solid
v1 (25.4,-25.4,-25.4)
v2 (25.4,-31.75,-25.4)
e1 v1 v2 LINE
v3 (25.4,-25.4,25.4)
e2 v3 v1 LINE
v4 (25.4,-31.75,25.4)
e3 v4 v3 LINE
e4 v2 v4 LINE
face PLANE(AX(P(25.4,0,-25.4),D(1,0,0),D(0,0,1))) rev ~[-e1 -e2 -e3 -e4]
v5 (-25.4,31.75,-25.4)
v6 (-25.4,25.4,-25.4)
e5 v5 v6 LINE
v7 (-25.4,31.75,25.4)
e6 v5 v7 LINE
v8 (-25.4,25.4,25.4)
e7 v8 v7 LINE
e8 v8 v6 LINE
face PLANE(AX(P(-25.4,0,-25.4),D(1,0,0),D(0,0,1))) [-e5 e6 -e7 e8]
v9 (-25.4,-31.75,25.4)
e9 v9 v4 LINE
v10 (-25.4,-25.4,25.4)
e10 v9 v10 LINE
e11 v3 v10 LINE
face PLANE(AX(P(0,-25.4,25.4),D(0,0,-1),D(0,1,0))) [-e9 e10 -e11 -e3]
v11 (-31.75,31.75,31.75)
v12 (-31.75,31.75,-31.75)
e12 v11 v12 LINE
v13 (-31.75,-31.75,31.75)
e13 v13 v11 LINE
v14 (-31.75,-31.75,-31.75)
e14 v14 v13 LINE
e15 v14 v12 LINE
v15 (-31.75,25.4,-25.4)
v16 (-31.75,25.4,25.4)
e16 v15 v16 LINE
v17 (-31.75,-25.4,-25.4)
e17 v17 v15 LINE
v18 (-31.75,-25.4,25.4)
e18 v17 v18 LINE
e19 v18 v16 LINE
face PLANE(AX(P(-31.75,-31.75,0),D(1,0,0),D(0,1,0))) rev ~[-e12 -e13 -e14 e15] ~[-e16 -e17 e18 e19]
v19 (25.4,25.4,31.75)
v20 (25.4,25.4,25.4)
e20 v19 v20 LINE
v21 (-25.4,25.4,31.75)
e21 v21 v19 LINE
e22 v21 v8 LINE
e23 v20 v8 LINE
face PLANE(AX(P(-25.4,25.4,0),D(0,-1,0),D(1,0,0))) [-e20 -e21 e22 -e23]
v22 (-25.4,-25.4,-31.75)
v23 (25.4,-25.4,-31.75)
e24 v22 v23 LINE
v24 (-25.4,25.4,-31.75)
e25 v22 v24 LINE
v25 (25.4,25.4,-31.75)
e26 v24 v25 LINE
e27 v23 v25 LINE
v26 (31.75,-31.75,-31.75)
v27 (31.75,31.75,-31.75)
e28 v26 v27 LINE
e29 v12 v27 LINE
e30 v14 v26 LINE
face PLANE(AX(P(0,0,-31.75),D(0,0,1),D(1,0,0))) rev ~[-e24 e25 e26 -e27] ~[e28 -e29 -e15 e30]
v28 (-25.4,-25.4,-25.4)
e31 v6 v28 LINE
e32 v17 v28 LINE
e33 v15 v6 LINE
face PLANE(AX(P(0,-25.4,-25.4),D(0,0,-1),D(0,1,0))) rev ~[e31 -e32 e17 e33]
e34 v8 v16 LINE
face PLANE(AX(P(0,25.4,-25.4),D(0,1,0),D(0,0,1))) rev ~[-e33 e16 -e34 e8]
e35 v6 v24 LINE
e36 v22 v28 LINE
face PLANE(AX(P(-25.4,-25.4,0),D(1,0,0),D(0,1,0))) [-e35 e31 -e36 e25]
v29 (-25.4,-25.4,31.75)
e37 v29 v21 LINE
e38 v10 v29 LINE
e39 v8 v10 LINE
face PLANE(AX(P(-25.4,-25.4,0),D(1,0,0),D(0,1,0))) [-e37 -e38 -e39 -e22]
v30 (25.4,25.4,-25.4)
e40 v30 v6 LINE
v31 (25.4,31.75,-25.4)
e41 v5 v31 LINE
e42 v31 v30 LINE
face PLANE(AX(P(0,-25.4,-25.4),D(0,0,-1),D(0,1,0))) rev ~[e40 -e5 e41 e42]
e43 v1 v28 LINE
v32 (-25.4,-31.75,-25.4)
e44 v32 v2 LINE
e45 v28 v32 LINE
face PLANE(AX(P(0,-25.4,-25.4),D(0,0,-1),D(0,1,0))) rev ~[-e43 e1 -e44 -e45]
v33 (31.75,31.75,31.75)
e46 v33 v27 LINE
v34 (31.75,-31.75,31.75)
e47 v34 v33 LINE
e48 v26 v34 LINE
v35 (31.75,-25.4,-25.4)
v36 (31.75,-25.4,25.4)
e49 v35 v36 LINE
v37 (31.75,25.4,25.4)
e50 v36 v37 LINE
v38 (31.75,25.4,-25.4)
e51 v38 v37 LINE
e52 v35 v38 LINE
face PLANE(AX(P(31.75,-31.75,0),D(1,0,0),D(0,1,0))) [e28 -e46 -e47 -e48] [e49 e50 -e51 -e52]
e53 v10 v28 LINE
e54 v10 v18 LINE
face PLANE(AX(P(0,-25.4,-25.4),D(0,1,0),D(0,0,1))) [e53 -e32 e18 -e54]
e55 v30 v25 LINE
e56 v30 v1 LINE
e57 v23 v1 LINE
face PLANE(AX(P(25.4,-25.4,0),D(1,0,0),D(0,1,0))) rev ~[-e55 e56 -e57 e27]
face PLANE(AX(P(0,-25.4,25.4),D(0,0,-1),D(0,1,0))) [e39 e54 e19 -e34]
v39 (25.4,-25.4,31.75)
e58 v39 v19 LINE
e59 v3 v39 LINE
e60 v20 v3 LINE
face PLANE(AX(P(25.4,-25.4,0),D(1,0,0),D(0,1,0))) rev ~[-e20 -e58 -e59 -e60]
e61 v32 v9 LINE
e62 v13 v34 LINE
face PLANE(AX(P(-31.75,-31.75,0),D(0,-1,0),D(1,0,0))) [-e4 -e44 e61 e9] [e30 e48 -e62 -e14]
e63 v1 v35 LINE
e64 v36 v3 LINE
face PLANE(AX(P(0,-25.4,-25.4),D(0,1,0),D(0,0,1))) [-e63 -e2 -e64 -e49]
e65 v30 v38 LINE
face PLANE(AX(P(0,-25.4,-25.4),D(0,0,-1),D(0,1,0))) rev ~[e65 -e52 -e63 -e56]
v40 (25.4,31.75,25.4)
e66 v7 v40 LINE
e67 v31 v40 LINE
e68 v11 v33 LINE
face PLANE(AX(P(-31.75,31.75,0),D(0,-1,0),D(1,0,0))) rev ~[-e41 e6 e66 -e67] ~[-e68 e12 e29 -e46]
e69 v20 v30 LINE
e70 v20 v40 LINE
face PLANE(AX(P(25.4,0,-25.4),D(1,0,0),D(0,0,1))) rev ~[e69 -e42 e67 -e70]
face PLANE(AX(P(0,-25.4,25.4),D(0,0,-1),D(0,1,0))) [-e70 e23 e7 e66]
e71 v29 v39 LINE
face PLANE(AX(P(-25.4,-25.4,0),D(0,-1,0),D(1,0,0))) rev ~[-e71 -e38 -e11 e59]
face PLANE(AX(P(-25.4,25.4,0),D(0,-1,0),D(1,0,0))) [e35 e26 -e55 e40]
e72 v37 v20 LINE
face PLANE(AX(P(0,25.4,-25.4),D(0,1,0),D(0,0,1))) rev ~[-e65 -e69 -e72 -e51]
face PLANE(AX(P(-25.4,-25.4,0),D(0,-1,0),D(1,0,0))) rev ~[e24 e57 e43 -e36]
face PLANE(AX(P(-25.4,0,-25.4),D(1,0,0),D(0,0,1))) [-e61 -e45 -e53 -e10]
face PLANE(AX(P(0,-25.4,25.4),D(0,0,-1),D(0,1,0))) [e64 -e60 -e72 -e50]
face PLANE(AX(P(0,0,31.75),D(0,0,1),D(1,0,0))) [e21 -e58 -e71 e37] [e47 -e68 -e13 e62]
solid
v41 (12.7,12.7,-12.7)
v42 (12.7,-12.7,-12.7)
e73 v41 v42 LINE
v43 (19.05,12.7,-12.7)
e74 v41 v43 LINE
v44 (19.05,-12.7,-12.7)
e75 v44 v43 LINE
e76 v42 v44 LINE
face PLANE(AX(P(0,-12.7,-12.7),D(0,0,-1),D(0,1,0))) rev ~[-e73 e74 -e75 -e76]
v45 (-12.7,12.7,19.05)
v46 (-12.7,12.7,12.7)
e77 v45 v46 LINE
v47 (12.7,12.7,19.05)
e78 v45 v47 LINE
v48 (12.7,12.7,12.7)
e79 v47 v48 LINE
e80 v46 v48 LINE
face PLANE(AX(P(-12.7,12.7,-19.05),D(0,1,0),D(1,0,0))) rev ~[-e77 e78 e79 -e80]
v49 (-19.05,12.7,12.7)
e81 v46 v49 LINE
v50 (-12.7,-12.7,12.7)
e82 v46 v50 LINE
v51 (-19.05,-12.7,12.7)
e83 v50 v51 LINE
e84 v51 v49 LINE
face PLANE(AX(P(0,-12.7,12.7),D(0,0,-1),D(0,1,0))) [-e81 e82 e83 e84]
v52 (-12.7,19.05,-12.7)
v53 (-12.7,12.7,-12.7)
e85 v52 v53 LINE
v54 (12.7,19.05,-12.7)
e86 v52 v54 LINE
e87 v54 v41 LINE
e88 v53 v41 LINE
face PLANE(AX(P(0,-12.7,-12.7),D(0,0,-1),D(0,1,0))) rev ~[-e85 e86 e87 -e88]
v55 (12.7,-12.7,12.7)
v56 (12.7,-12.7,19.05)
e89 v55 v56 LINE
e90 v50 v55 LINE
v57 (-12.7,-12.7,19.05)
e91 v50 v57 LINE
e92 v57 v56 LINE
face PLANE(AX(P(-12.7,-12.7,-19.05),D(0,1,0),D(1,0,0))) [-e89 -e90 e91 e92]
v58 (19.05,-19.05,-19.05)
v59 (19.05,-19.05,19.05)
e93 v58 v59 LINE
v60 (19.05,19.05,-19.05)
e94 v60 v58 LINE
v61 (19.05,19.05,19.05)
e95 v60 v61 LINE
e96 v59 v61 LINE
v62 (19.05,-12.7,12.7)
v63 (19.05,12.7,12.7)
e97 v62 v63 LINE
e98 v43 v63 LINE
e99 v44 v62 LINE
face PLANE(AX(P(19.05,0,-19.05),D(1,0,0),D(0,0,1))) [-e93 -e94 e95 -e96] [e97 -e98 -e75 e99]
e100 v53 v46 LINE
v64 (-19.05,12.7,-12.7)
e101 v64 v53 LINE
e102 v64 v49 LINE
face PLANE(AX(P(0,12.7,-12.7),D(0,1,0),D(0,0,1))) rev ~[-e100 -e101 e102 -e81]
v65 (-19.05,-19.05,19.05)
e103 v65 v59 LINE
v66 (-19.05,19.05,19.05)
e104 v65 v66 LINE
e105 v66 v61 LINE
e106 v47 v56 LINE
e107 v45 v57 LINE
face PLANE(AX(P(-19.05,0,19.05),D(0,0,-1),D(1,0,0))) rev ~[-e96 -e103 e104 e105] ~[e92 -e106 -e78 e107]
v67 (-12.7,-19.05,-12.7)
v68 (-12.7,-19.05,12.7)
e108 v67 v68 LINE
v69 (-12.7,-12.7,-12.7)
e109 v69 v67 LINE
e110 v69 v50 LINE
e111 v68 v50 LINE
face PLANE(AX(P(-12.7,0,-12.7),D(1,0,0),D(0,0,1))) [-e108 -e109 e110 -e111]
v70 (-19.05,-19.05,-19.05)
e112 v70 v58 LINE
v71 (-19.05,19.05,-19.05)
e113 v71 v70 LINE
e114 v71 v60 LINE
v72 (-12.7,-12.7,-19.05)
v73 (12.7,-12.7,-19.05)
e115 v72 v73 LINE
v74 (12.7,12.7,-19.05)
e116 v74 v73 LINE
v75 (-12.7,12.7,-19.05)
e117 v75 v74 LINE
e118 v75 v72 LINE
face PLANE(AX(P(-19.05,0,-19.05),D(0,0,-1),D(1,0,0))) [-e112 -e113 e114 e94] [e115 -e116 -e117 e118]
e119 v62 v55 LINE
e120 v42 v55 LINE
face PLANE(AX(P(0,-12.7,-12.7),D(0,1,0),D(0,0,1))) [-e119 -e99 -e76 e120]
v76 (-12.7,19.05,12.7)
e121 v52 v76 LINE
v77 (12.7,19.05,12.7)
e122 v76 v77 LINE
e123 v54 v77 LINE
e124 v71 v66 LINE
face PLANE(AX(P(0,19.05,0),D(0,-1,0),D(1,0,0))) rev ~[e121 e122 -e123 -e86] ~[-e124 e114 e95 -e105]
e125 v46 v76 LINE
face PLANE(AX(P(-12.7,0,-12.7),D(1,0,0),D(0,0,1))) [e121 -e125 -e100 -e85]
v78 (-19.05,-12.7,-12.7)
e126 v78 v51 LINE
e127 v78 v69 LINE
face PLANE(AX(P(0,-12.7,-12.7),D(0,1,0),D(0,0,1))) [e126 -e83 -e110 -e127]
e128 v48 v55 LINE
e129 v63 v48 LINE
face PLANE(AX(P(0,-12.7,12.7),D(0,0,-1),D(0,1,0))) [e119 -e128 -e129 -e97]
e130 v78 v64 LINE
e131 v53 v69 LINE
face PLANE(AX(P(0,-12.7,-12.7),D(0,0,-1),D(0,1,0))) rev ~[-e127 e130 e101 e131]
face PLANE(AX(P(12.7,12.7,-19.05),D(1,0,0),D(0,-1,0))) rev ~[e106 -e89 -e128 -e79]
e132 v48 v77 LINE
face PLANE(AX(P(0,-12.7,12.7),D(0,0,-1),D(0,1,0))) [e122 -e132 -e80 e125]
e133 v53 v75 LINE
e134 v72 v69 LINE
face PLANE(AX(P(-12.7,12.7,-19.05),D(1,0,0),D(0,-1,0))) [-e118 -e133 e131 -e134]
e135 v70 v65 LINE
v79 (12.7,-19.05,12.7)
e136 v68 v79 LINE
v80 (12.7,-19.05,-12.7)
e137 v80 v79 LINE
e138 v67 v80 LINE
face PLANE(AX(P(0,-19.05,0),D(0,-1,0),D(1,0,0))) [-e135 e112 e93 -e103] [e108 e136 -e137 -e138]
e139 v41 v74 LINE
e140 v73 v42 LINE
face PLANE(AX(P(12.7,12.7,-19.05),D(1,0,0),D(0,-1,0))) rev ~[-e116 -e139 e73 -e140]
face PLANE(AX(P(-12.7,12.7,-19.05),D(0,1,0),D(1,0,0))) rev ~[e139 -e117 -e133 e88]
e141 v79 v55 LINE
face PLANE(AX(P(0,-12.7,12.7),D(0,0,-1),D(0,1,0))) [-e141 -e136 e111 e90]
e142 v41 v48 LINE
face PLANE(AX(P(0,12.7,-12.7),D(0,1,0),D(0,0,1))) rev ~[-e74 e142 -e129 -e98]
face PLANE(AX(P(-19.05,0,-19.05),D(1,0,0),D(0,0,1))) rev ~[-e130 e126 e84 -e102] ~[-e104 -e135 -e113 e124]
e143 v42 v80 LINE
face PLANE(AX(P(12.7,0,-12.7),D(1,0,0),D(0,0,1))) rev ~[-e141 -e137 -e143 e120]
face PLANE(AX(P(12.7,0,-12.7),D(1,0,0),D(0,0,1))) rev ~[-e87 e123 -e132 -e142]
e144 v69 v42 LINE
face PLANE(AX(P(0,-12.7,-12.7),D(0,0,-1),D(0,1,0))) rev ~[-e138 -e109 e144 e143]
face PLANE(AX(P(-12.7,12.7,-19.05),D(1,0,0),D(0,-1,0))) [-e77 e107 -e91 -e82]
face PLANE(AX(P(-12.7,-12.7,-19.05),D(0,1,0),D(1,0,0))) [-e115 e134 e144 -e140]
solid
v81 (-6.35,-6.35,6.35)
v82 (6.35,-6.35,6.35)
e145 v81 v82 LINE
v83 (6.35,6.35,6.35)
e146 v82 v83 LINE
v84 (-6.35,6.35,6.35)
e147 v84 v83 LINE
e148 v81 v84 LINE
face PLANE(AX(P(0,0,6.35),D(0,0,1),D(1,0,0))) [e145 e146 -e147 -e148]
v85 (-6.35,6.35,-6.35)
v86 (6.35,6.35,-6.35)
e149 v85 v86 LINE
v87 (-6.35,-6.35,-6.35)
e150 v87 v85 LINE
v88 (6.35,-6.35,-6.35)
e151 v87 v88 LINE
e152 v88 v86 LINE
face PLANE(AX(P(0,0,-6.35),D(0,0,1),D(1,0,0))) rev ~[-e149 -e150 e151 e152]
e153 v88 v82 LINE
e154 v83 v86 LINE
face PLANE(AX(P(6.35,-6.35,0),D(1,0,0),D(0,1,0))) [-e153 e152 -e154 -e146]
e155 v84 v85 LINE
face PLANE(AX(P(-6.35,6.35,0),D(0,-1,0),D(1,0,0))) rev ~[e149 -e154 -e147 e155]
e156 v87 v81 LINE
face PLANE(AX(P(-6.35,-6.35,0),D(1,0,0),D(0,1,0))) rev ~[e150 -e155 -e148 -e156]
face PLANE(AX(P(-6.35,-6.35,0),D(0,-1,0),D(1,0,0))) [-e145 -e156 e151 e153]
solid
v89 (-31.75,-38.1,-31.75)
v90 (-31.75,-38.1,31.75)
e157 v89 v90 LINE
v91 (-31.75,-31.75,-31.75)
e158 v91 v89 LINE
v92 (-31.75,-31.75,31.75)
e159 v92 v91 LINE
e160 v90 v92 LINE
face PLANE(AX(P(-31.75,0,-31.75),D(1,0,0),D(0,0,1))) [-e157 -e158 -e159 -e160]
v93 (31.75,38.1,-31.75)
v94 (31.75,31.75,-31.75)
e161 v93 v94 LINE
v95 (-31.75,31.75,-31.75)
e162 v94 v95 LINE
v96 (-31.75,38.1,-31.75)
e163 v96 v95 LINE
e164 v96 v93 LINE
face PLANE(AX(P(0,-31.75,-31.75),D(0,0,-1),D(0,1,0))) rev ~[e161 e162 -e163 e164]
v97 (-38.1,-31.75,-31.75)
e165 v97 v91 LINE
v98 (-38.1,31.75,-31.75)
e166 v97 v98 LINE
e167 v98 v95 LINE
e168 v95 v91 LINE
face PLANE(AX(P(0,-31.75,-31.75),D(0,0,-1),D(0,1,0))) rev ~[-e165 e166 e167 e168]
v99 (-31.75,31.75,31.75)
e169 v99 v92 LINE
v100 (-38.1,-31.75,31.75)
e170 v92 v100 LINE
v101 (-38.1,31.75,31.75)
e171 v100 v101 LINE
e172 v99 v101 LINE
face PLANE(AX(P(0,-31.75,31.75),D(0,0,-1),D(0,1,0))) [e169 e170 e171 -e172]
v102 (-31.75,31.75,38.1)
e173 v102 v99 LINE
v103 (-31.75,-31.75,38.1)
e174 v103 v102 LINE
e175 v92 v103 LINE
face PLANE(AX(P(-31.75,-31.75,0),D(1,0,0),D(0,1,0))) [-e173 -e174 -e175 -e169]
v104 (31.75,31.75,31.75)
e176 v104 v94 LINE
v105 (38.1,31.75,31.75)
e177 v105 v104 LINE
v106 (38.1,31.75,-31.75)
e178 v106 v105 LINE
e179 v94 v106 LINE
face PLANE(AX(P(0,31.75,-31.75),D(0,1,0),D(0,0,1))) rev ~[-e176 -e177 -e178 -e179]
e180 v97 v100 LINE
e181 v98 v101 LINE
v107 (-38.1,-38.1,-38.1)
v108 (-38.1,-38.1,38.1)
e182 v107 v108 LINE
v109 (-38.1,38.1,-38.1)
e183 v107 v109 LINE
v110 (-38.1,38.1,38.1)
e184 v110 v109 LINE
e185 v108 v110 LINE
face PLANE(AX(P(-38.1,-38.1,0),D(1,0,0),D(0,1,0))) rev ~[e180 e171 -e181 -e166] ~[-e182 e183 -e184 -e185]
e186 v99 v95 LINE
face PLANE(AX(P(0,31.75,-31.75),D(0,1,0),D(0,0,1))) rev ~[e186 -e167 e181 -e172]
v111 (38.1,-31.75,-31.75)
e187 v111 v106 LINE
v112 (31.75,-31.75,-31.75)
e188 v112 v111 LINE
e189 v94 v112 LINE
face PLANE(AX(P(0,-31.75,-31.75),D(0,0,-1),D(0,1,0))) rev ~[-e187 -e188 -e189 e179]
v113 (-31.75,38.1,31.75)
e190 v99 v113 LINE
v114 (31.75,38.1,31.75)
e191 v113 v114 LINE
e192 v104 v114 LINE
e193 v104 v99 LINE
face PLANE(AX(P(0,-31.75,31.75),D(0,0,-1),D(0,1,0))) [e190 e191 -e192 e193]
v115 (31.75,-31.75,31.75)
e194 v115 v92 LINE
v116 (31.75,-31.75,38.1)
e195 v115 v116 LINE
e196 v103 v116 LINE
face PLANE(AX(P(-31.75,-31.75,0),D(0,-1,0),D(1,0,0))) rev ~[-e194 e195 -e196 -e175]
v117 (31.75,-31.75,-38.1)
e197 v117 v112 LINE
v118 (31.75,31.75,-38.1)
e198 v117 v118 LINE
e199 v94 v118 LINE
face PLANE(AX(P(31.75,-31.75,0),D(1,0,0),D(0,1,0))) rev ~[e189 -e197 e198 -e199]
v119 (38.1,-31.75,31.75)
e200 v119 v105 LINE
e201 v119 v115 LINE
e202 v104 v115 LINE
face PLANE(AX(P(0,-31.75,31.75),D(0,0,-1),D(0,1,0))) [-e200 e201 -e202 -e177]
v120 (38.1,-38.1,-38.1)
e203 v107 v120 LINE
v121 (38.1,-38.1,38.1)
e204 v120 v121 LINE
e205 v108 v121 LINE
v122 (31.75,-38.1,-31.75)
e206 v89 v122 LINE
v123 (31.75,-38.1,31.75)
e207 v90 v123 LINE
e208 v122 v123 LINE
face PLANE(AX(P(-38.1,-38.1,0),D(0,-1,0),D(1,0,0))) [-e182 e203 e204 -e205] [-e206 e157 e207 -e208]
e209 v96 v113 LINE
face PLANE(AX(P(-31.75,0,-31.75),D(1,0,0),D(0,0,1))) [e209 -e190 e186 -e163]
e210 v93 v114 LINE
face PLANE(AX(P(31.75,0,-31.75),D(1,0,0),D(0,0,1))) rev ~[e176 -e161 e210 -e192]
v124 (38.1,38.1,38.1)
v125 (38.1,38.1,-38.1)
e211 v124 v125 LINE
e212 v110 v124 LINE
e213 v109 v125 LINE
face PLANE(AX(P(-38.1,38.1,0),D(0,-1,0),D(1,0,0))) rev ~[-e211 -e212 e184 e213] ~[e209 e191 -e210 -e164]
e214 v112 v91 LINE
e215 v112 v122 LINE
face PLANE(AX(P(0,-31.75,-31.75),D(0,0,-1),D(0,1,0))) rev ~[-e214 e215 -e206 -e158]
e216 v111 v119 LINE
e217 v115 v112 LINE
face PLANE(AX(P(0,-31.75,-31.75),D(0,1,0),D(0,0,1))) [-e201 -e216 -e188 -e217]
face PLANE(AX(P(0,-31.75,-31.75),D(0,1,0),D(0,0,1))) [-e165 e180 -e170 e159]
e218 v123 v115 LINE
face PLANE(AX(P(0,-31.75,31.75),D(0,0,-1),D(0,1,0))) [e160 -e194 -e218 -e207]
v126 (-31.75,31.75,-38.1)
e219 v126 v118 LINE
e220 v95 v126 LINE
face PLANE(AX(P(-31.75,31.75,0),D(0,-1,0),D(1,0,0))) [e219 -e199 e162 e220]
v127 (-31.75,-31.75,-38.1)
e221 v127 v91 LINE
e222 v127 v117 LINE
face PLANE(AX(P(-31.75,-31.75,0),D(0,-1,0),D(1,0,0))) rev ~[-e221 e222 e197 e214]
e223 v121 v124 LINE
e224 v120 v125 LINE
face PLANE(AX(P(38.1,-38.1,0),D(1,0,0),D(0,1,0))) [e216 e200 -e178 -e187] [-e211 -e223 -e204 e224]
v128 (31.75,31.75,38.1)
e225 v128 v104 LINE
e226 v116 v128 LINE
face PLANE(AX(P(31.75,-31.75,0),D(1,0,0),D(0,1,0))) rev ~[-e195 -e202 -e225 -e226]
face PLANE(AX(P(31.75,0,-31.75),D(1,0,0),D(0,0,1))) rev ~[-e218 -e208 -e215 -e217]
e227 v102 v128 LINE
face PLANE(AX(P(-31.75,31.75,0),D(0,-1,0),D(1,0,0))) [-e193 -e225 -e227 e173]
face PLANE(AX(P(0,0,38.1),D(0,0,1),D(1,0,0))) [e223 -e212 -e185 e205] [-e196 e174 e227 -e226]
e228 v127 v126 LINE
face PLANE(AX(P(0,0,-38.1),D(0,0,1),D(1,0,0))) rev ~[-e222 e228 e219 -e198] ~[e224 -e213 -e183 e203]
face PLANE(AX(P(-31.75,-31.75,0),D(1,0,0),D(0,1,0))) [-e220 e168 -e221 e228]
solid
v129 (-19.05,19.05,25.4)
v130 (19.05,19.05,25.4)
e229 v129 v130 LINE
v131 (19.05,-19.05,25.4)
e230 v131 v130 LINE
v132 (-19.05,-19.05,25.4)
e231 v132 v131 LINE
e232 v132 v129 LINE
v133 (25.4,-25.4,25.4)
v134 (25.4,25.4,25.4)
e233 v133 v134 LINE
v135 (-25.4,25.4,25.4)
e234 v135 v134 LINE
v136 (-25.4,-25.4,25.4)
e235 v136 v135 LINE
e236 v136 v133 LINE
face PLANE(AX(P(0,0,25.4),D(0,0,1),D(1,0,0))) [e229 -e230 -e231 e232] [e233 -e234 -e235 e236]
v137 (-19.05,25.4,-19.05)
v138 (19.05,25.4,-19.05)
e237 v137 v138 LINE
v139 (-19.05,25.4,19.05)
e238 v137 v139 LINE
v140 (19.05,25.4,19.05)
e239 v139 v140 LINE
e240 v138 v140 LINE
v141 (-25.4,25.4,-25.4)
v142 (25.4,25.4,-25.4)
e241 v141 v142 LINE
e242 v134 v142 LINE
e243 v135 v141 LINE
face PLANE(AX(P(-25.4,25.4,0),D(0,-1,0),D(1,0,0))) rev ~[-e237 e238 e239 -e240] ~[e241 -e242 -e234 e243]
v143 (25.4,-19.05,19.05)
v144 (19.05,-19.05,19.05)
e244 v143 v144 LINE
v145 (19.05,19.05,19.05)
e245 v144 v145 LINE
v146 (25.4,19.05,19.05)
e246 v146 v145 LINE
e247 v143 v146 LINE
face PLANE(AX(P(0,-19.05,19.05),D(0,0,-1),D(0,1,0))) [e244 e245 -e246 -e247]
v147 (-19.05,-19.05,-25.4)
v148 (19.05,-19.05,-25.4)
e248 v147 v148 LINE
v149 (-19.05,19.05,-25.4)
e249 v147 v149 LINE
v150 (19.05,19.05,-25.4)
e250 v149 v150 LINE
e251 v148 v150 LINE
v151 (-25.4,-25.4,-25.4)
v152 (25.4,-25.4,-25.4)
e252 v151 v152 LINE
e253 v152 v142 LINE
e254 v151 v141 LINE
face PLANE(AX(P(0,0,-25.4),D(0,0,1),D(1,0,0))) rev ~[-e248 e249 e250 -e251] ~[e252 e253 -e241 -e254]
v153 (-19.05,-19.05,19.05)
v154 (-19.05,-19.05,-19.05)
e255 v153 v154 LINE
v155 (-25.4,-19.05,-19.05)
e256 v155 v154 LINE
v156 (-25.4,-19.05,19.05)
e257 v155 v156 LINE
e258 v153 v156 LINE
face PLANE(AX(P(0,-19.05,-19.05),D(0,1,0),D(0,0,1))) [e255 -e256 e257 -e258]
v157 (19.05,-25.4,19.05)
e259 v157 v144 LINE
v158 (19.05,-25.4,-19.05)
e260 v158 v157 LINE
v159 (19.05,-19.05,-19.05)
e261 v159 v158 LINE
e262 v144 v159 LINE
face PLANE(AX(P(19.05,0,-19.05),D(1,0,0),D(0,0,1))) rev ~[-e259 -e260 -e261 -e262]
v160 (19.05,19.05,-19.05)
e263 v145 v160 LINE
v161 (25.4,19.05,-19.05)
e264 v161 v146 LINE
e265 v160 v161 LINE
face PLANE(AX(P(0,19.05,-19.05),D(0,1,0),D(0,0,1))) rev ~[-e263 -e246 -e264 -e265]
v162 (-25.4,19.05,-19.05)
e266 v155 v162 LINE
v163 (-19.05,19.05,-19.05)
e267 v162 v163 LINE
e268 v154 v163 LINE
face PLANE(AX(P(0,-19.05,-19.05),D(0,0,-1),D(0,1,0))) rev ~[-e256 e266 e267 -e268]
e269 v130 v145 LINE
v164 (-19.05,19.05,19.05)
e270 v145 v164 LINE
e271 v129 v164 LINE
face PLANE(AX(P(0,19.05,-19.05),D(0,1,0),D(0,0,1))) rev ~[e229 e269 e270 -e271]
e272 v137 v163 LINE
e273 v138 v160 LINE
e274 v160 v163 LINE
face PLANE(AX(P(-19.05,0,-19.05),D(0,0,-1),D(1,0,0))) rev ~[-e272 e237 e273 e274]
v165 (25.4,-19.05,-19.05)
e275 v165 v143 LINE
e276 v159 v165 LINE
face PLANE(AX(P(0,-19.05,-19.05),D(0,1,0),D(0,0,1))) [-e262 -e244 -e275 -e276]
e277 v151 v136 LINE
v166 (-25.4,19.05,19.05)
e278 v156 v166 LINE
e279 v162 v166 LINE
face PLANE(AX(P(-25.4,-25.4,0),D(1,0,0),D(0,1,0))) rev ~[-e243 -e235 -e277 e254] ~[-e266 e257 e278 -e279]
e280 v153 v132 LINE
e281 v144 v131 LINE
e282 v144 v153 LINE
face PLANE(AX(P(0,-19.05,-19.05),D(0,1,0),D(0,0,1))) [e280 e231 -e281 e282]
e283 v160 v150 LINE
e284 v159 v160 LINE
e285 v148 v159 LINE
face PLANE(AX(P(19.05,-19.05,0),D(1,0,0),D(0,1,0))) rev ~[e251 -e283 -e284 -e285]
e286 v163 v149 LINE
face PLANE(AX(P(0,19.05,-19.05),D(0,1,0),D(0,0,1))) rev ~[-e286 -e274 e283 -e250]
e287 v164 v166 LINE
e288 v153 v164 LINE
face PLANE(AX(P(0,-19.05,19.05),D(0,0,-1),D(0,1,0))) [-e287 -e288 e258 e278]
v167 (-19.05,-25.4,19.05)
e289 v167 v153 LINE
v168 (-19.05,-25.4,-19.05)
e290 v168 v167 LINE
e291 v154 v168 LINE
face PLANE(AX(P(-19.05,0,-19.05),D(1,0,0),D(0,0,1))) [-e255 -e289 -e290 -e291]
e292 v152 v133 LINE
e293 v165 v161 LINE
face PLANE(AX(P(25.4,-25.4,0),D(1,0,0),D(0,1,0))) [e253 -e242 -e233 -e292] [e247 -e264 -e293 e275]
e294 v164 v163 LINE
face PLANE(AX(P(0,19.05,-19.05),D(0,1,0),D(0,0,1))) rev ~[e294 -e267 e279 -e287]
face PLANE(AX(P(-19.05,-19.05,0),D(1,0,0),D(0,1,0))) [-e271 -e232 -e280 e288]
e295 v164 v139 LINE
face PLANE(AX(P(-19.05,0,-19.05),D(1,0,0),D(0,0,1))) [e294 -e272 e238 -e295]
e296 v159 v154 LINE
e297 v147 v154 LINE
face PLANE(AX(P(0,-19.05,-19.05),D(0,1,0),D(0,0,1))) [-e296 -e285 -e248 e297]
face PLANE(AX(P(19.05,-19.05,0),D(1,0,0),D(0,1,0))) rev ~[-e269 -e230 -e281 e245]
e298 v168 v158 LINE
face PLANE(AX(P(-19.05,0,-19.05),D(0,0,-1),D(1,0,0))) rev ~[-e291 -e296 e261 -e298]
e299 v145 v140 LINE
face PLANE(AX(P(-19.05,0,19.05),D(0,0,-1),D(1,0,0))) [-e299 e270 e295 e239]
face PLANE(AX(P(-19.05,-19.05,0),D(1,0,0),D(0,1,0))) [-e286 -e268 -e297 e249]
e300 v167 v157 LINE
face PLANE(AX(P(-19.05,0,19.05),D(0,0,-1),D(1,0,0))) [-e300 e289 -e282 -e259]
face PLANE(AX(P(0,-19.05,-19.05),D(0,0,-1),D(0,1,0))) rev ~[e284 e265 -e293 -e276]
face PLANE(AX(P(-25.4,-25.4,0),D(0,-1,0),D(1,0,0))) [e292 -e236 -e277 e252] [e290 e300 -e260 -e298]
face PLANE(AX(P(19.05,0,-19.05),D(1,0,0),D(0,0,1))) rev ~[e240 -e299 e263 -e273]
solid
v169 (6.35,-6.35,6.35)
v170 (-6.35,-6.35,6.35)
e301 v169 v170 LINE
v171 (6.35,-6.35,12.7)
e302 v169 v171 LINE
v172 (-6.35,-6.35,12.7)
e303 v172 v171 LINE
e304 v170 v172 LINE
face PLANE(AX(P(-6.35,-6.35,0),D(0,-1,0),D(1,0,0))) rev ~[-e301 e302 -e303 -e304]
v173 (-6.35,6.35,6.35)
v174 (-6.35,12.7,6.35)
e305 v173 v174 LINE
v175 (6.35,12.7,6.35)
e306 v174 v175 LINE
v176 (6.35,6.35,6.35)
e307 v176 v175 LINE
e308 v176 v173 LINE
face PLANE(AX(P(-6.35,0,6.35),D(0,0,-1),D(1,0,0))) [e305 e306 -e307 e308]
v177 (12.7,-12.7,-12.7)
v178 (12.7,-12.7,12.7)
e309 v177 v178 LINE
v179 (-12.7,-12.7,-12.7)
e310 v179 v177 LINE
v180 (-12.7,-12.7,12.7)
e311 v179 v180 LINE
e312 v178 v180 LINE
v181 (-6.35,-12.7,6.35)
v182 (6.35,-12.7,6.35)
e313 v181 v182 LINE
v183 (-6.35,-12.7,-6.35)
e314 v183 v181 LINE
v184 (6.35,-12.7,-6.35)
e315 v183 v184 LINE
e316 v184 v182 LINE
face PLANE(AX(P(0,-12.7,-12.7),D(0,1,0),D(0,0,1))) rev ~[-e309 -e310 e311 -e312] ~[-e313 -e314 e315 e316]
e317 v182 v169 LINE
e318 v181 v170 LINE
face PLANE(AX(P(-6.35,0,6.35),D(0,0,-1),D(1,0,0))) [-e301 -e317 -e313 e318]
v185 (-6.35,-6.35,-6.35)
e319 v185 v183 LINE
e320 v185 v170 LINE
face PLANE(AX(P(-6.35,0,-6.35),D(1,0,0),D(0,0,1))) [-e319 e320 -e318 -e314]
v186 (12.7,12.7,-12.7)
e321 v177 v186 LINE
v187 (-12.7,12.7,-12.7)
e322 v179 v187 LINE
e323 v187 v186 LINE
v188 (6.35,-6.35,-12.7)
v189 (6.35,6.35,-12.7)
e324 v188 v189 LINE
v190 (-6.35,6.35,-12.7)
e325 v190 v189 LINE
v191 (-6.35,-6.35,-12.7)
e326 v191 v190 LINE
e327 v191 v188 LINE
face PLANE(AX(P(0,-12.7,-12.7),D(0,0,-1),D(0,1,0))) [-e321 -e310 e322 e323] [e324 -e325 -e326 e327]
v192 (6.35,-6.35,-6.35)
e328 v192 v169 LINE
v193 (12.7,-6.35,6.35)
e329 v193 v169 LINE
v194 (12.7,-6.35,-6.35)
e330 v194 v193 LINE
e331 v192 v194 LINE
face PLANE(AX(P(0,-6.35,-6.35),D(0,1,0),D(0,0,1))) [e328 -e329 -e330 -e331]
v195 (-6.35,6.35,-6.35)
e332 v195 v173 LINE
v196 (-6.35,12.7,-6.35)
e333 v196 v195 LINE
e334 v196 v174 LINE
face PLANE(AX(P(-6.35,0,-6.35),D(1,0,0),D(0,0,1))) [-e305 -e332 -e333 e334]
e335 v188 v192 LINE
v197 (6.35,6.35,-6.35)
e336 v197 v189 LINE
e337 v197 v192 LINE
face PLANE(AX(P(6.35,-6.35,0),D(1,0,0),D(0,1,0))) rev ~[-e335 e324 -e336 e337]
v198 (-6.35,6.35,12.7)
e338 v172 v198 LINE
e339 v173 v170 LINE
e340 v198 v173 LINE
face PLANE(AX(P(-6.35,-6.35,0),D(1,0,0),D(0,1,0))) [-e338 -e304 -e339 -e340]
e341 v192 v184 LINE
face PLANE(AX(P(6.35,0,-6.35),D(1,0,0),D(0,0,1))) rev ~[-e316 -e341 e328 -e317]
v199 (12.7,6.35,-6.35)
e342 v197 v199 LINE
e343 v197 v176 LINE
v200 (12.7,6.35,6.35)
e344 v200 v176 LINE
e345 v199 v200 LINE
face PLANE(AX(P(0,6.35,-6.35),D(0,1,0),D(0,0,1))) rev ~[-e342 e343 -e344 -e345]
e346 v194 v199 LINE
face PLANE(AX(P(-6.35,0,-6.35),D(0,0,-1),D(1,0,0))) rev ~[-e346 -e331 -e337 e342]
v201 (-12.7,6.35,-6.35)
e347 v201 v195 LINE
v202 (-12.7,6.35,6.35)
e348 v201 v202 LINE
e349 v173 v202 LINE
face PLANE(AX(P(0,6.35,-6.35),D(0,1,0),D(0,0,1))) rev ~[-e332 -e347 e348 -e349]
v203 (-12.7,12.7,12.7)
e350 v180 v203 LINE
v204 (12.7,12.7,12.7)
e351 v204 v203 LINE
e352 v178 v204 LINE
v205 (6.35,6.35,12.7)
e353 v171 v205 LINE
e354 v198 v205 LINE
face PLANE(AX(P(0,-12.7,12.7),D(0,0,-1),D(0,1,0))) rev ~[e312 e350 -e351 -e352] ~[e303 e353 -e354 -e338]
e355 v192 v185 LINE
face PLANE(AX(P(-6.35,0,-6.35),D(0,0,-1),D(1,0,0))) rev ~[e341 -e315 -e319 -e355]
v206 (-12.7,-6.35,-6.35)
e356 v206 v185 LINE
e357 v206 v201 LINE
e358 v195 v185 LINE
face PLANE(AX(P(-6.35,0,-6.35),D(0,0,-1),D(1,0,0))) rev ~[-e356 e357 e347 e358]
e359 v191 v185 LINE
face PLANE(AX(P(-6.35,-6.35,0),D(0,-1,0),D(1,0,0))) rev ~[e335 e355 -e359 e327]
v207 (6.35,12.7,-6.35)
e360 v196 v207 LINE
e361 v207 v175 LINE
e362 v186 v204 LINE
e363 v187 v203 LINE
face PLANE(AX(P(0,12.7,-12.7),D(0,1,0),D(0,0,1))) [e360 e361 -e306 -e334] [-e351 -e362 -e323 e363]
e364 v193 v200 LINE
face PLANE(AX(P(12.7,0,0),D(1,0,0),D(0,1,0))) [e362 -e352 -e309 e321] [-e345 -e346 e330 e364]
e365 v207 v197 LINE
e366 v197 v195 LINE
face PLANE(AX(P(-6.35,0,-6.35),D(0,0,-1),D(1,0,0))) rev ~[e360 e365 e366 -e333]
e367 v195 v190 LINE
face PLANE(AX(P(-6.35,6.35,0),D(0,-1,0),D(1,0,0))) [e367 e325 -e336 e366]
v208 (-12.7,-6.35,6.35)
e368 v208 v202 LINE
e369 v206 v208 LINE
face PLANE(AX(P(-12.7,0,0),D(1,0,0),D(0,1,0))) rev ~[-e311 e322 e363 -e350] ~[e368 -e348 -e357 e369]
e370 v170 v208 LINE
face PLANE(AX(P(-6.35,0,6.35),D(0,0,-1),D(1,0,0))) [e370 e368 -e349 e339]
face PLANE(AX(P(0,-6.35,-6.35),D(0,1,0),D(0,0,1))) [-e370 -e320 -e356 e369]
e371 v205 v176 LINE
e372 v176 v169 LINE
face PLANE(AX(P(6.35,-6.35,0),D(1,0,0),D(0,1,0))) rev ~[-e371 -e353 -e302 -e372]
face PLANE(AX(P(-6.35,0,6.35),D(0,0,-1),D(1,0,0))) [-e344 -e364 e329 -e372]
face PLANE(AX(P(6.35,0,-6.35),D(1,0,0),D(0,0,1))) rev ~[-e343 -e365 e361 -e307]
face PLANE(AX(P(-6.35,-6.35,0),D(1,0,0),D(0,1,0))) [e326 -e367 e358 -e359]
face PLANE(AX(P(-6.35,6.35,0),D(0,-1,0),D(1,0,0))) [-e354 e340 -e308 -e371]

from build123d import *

# Parameters (mm, degrees)
F0_W      = 76.2
F0_H      = 76.2
F1_DEPTH  = 38.1
F2_W      = 63.5
F2_H      = 63.5
F3_DEPTH  = 38.1
F4_W      = 63.5
F4_H      = 63.5
F5_DEPTH  = 38.1
F6_W      = 63.5
F6_H      = 63.5
F7_DEPTH  = 38.1
F8_DEPTH  = 31.75
F9_W      = 50.8
F9_H      = 50.8
F10_DEPTH = 31.75
F11_W     = 50.8
F11_H     = 50.8
F12_DEPTH = 31.75
F13_W     = 50.8
F13_H     = 50.8
F14_DEPTH = 31.75
F15_DEPTH = 25.4
F16_W     = 38.1
F16_H     = 38.1
F17_DEPTH = 25.4
F18_W     = 38.1
F18_H     = 38.1
F19_DEPTH = 25.4
F20_W     = 38.1
F20_H     = 38.1
F21_DEPTH = 25.4
F22_DEPTH = 19.05
F23_W     = 25.4
F23_H     = 25.4
F24_DEPTH = 19.05
F25_W     = 25.4
F25_H     = 25.4
F26_DEPTH = 19.05
F27_W     = 25.4
F27_H     = 25.4
F28_DEPTH = 63.5
F29_DEPTH = 12.7
F30_W     = 12.7
F30_H     = 12.7
F31_DEPTH = 12.7
F32_W     = 12.7
F32_H     = 12.7
F33_DEPTH = 12.7
F34_W     = 12.7
F34_H     = 12.7
F35_DEPTH = 12.7
F36_DEPTH = 6.35


with BuildPart() as f1:
    # F0 (on Top) → F1 (new body, symmetric)
    with BuildSketch(Plane.XY):
        Rectangle(F0_W, F0_H)
    extrude(amount=F1_DEPTH, both=True)

    # F2 (on Right) → F3 (cut, symmetric)
    with BuildSketch(Plane.YZ):
        Rectangle(F2_W, F2_H)
    extrude(amount=F3_DEPTH, both=True, mode=Mode.SUBTRACT)

    # F4 (on Front) → F5 (cut, symmetric)
    with BuildSketch(Plane.XZ):
        Rectangle(F4_W, F4_H)
    extrude(amount=F5_DEPTH, both=True, mode=Mode.SUBTRACT)

    # F6 (on Top) → F7 (cut, symmetric)
    with BuildSketch(Plane.XY):
        Rectangle(F6_W, F6_H)
    extrude(amount=F7_DEPTH, both=True, mode=Mode.SUBTRACT)


with BuildPart() as f8:
    # F6 (on Top) → F8 (new body, symmetric)
    with BuildSketch(Plane.XY):
        Rectangle(F6_W, F6_H)
    extrude(amount=F8_DEPTH, both=True)

    # F9 (on Right) → F10 (cut, symmetric)
    with BuildSketch(Plane.YZ):
        Rectangle(F9_W, F9_H)
    extrude(amount=F10_DEPTH, both=True, mode=Mode.SUBTRACT)

    # F11 (on Front) → F12 (cut, symmetric)
    with BuildSketch(Plane.XZ):
        Rectangle(F11_W, F11_H)
    extrude(amount=F12_DEPTH, both=True, mode=Mode.SUBTRACT)

    # F13 (on Top) → F14 (cut, symmetric)
    with BuildSketch(Plane.XY):
        Rectangle(F13_W, F13_H)
    extrude(amount=F14_DEPTH, both=True, mode=Mode.SUBTRACT)


with BuildPart() as f15:
    # F13 (on Top) → F15 (new body, symmetric)
    with BuildSketch(Plane.XY):
        Rectangle(F13_W, F13_H)
    extrude(amount=F15_DEPTH, both=True)

    # F16 (on Top) → F17 (cut, symmetric)
    with BuildSketch(Plane.XY):
        Rectangle(F16_W, F16_H)
    extrude(amount=F17_DEPTH, both=True, mode=Mode.SUBTRACT)

    # F18 (on Right) → F19 (cut, symmetric)
    with BuildSketch(Plane.YZ):
        Rectangle(F18_W, F18_H)
    extrude(amount=F19_DEPTH, both=True, mode=Mode.SUBTRACT)

    # F20 (on Front) → F21 (cut, symmetric)
    with BuildSketch(Plane.XZ):
        Rectangle(F20_W, F20_H)
    extrude(amount=F21_DEPTH, both=True, mode=Mode.SUBTRACT)


with BuildPart() as f22:
    # F20 (on Front) → F22 (new body, symmetric)
    with BuildSketch(Plane.XZ):
        Rectangle(F20_W, F20_H)
    extrude(amount=F22_DEPTH, both=True)

    # F23 (on Front) → F24 (cut, symmetric)
    with BuildSketch(Plane.XZ):
        Rectangle(F23_W, F23_H)
    extrude(amount=F24_DEPTH, both=True, mode=Mode.SUBTRACT)

    # F25 (on Right) → F26 (cut, symmetric)
    with BuildSketch(Plane.YZ):
        Rectangle(F25_W, F25_H)
    extrude(amount=F26_DEPTH, both=True, mode=Mode.SUBTRACT)

    # F27 (on face) → F28 (cut, symmetric)
    with BuildSketch(Plane(origin=(0, 0, -19.05), x_dir=(1, 0, 0), z_dir=(0, 0, -1))):
        Rectangle(F27_W, F27_H)
    extrude(amount=F28_DEPTH, both=True, mode=Mode.SUBTRACT)


with BuildPart() as f29:
    # F25 (on Right) → F29 (new body, symmetric)
    with BuildSketch(Plane.YZ):
        Rectangle(F25_W, F25_H)
    extrude(amount=F29_DEPTH, both=True)

    # F30 (on Front) → F31 (cut, symmetric)
    with BuildSketch(Plane.XZ):
        Rectangle(F30_W, F30_H)
    extrude(amount=F31_DEPTH, both=True, mode=Mode.SUBTRACT)

    # F32 (on Right) → F33 (cut, symmetric)
    with BuildSketch(Plane.YZ):
        Rectangle(F32_W, F32_H)
    extrude(amount=F33_DEPTH, both=True, mode=Mode.SUBTRACT)

    # F34 (on Top) → F35 (cut, symmetric)
    with BuildSketch(Plane.XY):
        Rectangle(F34_W, F34_H)
    extrude(amount=F35_DEPTH, both=True, mode=Mode.SUBTRACT)


with BuildPart() as f36:
    # F34 (on Top) → F36 (new body, symmetric)
    with BuildSketch(Plane.XY):
        Rectangle(F34_W, F34_H)
    extrude(amount=F36_DEPTH, both=True)


solid = Compound([f1.part, f8.part, f15.part, f22.part, f29.part, f36.part])
